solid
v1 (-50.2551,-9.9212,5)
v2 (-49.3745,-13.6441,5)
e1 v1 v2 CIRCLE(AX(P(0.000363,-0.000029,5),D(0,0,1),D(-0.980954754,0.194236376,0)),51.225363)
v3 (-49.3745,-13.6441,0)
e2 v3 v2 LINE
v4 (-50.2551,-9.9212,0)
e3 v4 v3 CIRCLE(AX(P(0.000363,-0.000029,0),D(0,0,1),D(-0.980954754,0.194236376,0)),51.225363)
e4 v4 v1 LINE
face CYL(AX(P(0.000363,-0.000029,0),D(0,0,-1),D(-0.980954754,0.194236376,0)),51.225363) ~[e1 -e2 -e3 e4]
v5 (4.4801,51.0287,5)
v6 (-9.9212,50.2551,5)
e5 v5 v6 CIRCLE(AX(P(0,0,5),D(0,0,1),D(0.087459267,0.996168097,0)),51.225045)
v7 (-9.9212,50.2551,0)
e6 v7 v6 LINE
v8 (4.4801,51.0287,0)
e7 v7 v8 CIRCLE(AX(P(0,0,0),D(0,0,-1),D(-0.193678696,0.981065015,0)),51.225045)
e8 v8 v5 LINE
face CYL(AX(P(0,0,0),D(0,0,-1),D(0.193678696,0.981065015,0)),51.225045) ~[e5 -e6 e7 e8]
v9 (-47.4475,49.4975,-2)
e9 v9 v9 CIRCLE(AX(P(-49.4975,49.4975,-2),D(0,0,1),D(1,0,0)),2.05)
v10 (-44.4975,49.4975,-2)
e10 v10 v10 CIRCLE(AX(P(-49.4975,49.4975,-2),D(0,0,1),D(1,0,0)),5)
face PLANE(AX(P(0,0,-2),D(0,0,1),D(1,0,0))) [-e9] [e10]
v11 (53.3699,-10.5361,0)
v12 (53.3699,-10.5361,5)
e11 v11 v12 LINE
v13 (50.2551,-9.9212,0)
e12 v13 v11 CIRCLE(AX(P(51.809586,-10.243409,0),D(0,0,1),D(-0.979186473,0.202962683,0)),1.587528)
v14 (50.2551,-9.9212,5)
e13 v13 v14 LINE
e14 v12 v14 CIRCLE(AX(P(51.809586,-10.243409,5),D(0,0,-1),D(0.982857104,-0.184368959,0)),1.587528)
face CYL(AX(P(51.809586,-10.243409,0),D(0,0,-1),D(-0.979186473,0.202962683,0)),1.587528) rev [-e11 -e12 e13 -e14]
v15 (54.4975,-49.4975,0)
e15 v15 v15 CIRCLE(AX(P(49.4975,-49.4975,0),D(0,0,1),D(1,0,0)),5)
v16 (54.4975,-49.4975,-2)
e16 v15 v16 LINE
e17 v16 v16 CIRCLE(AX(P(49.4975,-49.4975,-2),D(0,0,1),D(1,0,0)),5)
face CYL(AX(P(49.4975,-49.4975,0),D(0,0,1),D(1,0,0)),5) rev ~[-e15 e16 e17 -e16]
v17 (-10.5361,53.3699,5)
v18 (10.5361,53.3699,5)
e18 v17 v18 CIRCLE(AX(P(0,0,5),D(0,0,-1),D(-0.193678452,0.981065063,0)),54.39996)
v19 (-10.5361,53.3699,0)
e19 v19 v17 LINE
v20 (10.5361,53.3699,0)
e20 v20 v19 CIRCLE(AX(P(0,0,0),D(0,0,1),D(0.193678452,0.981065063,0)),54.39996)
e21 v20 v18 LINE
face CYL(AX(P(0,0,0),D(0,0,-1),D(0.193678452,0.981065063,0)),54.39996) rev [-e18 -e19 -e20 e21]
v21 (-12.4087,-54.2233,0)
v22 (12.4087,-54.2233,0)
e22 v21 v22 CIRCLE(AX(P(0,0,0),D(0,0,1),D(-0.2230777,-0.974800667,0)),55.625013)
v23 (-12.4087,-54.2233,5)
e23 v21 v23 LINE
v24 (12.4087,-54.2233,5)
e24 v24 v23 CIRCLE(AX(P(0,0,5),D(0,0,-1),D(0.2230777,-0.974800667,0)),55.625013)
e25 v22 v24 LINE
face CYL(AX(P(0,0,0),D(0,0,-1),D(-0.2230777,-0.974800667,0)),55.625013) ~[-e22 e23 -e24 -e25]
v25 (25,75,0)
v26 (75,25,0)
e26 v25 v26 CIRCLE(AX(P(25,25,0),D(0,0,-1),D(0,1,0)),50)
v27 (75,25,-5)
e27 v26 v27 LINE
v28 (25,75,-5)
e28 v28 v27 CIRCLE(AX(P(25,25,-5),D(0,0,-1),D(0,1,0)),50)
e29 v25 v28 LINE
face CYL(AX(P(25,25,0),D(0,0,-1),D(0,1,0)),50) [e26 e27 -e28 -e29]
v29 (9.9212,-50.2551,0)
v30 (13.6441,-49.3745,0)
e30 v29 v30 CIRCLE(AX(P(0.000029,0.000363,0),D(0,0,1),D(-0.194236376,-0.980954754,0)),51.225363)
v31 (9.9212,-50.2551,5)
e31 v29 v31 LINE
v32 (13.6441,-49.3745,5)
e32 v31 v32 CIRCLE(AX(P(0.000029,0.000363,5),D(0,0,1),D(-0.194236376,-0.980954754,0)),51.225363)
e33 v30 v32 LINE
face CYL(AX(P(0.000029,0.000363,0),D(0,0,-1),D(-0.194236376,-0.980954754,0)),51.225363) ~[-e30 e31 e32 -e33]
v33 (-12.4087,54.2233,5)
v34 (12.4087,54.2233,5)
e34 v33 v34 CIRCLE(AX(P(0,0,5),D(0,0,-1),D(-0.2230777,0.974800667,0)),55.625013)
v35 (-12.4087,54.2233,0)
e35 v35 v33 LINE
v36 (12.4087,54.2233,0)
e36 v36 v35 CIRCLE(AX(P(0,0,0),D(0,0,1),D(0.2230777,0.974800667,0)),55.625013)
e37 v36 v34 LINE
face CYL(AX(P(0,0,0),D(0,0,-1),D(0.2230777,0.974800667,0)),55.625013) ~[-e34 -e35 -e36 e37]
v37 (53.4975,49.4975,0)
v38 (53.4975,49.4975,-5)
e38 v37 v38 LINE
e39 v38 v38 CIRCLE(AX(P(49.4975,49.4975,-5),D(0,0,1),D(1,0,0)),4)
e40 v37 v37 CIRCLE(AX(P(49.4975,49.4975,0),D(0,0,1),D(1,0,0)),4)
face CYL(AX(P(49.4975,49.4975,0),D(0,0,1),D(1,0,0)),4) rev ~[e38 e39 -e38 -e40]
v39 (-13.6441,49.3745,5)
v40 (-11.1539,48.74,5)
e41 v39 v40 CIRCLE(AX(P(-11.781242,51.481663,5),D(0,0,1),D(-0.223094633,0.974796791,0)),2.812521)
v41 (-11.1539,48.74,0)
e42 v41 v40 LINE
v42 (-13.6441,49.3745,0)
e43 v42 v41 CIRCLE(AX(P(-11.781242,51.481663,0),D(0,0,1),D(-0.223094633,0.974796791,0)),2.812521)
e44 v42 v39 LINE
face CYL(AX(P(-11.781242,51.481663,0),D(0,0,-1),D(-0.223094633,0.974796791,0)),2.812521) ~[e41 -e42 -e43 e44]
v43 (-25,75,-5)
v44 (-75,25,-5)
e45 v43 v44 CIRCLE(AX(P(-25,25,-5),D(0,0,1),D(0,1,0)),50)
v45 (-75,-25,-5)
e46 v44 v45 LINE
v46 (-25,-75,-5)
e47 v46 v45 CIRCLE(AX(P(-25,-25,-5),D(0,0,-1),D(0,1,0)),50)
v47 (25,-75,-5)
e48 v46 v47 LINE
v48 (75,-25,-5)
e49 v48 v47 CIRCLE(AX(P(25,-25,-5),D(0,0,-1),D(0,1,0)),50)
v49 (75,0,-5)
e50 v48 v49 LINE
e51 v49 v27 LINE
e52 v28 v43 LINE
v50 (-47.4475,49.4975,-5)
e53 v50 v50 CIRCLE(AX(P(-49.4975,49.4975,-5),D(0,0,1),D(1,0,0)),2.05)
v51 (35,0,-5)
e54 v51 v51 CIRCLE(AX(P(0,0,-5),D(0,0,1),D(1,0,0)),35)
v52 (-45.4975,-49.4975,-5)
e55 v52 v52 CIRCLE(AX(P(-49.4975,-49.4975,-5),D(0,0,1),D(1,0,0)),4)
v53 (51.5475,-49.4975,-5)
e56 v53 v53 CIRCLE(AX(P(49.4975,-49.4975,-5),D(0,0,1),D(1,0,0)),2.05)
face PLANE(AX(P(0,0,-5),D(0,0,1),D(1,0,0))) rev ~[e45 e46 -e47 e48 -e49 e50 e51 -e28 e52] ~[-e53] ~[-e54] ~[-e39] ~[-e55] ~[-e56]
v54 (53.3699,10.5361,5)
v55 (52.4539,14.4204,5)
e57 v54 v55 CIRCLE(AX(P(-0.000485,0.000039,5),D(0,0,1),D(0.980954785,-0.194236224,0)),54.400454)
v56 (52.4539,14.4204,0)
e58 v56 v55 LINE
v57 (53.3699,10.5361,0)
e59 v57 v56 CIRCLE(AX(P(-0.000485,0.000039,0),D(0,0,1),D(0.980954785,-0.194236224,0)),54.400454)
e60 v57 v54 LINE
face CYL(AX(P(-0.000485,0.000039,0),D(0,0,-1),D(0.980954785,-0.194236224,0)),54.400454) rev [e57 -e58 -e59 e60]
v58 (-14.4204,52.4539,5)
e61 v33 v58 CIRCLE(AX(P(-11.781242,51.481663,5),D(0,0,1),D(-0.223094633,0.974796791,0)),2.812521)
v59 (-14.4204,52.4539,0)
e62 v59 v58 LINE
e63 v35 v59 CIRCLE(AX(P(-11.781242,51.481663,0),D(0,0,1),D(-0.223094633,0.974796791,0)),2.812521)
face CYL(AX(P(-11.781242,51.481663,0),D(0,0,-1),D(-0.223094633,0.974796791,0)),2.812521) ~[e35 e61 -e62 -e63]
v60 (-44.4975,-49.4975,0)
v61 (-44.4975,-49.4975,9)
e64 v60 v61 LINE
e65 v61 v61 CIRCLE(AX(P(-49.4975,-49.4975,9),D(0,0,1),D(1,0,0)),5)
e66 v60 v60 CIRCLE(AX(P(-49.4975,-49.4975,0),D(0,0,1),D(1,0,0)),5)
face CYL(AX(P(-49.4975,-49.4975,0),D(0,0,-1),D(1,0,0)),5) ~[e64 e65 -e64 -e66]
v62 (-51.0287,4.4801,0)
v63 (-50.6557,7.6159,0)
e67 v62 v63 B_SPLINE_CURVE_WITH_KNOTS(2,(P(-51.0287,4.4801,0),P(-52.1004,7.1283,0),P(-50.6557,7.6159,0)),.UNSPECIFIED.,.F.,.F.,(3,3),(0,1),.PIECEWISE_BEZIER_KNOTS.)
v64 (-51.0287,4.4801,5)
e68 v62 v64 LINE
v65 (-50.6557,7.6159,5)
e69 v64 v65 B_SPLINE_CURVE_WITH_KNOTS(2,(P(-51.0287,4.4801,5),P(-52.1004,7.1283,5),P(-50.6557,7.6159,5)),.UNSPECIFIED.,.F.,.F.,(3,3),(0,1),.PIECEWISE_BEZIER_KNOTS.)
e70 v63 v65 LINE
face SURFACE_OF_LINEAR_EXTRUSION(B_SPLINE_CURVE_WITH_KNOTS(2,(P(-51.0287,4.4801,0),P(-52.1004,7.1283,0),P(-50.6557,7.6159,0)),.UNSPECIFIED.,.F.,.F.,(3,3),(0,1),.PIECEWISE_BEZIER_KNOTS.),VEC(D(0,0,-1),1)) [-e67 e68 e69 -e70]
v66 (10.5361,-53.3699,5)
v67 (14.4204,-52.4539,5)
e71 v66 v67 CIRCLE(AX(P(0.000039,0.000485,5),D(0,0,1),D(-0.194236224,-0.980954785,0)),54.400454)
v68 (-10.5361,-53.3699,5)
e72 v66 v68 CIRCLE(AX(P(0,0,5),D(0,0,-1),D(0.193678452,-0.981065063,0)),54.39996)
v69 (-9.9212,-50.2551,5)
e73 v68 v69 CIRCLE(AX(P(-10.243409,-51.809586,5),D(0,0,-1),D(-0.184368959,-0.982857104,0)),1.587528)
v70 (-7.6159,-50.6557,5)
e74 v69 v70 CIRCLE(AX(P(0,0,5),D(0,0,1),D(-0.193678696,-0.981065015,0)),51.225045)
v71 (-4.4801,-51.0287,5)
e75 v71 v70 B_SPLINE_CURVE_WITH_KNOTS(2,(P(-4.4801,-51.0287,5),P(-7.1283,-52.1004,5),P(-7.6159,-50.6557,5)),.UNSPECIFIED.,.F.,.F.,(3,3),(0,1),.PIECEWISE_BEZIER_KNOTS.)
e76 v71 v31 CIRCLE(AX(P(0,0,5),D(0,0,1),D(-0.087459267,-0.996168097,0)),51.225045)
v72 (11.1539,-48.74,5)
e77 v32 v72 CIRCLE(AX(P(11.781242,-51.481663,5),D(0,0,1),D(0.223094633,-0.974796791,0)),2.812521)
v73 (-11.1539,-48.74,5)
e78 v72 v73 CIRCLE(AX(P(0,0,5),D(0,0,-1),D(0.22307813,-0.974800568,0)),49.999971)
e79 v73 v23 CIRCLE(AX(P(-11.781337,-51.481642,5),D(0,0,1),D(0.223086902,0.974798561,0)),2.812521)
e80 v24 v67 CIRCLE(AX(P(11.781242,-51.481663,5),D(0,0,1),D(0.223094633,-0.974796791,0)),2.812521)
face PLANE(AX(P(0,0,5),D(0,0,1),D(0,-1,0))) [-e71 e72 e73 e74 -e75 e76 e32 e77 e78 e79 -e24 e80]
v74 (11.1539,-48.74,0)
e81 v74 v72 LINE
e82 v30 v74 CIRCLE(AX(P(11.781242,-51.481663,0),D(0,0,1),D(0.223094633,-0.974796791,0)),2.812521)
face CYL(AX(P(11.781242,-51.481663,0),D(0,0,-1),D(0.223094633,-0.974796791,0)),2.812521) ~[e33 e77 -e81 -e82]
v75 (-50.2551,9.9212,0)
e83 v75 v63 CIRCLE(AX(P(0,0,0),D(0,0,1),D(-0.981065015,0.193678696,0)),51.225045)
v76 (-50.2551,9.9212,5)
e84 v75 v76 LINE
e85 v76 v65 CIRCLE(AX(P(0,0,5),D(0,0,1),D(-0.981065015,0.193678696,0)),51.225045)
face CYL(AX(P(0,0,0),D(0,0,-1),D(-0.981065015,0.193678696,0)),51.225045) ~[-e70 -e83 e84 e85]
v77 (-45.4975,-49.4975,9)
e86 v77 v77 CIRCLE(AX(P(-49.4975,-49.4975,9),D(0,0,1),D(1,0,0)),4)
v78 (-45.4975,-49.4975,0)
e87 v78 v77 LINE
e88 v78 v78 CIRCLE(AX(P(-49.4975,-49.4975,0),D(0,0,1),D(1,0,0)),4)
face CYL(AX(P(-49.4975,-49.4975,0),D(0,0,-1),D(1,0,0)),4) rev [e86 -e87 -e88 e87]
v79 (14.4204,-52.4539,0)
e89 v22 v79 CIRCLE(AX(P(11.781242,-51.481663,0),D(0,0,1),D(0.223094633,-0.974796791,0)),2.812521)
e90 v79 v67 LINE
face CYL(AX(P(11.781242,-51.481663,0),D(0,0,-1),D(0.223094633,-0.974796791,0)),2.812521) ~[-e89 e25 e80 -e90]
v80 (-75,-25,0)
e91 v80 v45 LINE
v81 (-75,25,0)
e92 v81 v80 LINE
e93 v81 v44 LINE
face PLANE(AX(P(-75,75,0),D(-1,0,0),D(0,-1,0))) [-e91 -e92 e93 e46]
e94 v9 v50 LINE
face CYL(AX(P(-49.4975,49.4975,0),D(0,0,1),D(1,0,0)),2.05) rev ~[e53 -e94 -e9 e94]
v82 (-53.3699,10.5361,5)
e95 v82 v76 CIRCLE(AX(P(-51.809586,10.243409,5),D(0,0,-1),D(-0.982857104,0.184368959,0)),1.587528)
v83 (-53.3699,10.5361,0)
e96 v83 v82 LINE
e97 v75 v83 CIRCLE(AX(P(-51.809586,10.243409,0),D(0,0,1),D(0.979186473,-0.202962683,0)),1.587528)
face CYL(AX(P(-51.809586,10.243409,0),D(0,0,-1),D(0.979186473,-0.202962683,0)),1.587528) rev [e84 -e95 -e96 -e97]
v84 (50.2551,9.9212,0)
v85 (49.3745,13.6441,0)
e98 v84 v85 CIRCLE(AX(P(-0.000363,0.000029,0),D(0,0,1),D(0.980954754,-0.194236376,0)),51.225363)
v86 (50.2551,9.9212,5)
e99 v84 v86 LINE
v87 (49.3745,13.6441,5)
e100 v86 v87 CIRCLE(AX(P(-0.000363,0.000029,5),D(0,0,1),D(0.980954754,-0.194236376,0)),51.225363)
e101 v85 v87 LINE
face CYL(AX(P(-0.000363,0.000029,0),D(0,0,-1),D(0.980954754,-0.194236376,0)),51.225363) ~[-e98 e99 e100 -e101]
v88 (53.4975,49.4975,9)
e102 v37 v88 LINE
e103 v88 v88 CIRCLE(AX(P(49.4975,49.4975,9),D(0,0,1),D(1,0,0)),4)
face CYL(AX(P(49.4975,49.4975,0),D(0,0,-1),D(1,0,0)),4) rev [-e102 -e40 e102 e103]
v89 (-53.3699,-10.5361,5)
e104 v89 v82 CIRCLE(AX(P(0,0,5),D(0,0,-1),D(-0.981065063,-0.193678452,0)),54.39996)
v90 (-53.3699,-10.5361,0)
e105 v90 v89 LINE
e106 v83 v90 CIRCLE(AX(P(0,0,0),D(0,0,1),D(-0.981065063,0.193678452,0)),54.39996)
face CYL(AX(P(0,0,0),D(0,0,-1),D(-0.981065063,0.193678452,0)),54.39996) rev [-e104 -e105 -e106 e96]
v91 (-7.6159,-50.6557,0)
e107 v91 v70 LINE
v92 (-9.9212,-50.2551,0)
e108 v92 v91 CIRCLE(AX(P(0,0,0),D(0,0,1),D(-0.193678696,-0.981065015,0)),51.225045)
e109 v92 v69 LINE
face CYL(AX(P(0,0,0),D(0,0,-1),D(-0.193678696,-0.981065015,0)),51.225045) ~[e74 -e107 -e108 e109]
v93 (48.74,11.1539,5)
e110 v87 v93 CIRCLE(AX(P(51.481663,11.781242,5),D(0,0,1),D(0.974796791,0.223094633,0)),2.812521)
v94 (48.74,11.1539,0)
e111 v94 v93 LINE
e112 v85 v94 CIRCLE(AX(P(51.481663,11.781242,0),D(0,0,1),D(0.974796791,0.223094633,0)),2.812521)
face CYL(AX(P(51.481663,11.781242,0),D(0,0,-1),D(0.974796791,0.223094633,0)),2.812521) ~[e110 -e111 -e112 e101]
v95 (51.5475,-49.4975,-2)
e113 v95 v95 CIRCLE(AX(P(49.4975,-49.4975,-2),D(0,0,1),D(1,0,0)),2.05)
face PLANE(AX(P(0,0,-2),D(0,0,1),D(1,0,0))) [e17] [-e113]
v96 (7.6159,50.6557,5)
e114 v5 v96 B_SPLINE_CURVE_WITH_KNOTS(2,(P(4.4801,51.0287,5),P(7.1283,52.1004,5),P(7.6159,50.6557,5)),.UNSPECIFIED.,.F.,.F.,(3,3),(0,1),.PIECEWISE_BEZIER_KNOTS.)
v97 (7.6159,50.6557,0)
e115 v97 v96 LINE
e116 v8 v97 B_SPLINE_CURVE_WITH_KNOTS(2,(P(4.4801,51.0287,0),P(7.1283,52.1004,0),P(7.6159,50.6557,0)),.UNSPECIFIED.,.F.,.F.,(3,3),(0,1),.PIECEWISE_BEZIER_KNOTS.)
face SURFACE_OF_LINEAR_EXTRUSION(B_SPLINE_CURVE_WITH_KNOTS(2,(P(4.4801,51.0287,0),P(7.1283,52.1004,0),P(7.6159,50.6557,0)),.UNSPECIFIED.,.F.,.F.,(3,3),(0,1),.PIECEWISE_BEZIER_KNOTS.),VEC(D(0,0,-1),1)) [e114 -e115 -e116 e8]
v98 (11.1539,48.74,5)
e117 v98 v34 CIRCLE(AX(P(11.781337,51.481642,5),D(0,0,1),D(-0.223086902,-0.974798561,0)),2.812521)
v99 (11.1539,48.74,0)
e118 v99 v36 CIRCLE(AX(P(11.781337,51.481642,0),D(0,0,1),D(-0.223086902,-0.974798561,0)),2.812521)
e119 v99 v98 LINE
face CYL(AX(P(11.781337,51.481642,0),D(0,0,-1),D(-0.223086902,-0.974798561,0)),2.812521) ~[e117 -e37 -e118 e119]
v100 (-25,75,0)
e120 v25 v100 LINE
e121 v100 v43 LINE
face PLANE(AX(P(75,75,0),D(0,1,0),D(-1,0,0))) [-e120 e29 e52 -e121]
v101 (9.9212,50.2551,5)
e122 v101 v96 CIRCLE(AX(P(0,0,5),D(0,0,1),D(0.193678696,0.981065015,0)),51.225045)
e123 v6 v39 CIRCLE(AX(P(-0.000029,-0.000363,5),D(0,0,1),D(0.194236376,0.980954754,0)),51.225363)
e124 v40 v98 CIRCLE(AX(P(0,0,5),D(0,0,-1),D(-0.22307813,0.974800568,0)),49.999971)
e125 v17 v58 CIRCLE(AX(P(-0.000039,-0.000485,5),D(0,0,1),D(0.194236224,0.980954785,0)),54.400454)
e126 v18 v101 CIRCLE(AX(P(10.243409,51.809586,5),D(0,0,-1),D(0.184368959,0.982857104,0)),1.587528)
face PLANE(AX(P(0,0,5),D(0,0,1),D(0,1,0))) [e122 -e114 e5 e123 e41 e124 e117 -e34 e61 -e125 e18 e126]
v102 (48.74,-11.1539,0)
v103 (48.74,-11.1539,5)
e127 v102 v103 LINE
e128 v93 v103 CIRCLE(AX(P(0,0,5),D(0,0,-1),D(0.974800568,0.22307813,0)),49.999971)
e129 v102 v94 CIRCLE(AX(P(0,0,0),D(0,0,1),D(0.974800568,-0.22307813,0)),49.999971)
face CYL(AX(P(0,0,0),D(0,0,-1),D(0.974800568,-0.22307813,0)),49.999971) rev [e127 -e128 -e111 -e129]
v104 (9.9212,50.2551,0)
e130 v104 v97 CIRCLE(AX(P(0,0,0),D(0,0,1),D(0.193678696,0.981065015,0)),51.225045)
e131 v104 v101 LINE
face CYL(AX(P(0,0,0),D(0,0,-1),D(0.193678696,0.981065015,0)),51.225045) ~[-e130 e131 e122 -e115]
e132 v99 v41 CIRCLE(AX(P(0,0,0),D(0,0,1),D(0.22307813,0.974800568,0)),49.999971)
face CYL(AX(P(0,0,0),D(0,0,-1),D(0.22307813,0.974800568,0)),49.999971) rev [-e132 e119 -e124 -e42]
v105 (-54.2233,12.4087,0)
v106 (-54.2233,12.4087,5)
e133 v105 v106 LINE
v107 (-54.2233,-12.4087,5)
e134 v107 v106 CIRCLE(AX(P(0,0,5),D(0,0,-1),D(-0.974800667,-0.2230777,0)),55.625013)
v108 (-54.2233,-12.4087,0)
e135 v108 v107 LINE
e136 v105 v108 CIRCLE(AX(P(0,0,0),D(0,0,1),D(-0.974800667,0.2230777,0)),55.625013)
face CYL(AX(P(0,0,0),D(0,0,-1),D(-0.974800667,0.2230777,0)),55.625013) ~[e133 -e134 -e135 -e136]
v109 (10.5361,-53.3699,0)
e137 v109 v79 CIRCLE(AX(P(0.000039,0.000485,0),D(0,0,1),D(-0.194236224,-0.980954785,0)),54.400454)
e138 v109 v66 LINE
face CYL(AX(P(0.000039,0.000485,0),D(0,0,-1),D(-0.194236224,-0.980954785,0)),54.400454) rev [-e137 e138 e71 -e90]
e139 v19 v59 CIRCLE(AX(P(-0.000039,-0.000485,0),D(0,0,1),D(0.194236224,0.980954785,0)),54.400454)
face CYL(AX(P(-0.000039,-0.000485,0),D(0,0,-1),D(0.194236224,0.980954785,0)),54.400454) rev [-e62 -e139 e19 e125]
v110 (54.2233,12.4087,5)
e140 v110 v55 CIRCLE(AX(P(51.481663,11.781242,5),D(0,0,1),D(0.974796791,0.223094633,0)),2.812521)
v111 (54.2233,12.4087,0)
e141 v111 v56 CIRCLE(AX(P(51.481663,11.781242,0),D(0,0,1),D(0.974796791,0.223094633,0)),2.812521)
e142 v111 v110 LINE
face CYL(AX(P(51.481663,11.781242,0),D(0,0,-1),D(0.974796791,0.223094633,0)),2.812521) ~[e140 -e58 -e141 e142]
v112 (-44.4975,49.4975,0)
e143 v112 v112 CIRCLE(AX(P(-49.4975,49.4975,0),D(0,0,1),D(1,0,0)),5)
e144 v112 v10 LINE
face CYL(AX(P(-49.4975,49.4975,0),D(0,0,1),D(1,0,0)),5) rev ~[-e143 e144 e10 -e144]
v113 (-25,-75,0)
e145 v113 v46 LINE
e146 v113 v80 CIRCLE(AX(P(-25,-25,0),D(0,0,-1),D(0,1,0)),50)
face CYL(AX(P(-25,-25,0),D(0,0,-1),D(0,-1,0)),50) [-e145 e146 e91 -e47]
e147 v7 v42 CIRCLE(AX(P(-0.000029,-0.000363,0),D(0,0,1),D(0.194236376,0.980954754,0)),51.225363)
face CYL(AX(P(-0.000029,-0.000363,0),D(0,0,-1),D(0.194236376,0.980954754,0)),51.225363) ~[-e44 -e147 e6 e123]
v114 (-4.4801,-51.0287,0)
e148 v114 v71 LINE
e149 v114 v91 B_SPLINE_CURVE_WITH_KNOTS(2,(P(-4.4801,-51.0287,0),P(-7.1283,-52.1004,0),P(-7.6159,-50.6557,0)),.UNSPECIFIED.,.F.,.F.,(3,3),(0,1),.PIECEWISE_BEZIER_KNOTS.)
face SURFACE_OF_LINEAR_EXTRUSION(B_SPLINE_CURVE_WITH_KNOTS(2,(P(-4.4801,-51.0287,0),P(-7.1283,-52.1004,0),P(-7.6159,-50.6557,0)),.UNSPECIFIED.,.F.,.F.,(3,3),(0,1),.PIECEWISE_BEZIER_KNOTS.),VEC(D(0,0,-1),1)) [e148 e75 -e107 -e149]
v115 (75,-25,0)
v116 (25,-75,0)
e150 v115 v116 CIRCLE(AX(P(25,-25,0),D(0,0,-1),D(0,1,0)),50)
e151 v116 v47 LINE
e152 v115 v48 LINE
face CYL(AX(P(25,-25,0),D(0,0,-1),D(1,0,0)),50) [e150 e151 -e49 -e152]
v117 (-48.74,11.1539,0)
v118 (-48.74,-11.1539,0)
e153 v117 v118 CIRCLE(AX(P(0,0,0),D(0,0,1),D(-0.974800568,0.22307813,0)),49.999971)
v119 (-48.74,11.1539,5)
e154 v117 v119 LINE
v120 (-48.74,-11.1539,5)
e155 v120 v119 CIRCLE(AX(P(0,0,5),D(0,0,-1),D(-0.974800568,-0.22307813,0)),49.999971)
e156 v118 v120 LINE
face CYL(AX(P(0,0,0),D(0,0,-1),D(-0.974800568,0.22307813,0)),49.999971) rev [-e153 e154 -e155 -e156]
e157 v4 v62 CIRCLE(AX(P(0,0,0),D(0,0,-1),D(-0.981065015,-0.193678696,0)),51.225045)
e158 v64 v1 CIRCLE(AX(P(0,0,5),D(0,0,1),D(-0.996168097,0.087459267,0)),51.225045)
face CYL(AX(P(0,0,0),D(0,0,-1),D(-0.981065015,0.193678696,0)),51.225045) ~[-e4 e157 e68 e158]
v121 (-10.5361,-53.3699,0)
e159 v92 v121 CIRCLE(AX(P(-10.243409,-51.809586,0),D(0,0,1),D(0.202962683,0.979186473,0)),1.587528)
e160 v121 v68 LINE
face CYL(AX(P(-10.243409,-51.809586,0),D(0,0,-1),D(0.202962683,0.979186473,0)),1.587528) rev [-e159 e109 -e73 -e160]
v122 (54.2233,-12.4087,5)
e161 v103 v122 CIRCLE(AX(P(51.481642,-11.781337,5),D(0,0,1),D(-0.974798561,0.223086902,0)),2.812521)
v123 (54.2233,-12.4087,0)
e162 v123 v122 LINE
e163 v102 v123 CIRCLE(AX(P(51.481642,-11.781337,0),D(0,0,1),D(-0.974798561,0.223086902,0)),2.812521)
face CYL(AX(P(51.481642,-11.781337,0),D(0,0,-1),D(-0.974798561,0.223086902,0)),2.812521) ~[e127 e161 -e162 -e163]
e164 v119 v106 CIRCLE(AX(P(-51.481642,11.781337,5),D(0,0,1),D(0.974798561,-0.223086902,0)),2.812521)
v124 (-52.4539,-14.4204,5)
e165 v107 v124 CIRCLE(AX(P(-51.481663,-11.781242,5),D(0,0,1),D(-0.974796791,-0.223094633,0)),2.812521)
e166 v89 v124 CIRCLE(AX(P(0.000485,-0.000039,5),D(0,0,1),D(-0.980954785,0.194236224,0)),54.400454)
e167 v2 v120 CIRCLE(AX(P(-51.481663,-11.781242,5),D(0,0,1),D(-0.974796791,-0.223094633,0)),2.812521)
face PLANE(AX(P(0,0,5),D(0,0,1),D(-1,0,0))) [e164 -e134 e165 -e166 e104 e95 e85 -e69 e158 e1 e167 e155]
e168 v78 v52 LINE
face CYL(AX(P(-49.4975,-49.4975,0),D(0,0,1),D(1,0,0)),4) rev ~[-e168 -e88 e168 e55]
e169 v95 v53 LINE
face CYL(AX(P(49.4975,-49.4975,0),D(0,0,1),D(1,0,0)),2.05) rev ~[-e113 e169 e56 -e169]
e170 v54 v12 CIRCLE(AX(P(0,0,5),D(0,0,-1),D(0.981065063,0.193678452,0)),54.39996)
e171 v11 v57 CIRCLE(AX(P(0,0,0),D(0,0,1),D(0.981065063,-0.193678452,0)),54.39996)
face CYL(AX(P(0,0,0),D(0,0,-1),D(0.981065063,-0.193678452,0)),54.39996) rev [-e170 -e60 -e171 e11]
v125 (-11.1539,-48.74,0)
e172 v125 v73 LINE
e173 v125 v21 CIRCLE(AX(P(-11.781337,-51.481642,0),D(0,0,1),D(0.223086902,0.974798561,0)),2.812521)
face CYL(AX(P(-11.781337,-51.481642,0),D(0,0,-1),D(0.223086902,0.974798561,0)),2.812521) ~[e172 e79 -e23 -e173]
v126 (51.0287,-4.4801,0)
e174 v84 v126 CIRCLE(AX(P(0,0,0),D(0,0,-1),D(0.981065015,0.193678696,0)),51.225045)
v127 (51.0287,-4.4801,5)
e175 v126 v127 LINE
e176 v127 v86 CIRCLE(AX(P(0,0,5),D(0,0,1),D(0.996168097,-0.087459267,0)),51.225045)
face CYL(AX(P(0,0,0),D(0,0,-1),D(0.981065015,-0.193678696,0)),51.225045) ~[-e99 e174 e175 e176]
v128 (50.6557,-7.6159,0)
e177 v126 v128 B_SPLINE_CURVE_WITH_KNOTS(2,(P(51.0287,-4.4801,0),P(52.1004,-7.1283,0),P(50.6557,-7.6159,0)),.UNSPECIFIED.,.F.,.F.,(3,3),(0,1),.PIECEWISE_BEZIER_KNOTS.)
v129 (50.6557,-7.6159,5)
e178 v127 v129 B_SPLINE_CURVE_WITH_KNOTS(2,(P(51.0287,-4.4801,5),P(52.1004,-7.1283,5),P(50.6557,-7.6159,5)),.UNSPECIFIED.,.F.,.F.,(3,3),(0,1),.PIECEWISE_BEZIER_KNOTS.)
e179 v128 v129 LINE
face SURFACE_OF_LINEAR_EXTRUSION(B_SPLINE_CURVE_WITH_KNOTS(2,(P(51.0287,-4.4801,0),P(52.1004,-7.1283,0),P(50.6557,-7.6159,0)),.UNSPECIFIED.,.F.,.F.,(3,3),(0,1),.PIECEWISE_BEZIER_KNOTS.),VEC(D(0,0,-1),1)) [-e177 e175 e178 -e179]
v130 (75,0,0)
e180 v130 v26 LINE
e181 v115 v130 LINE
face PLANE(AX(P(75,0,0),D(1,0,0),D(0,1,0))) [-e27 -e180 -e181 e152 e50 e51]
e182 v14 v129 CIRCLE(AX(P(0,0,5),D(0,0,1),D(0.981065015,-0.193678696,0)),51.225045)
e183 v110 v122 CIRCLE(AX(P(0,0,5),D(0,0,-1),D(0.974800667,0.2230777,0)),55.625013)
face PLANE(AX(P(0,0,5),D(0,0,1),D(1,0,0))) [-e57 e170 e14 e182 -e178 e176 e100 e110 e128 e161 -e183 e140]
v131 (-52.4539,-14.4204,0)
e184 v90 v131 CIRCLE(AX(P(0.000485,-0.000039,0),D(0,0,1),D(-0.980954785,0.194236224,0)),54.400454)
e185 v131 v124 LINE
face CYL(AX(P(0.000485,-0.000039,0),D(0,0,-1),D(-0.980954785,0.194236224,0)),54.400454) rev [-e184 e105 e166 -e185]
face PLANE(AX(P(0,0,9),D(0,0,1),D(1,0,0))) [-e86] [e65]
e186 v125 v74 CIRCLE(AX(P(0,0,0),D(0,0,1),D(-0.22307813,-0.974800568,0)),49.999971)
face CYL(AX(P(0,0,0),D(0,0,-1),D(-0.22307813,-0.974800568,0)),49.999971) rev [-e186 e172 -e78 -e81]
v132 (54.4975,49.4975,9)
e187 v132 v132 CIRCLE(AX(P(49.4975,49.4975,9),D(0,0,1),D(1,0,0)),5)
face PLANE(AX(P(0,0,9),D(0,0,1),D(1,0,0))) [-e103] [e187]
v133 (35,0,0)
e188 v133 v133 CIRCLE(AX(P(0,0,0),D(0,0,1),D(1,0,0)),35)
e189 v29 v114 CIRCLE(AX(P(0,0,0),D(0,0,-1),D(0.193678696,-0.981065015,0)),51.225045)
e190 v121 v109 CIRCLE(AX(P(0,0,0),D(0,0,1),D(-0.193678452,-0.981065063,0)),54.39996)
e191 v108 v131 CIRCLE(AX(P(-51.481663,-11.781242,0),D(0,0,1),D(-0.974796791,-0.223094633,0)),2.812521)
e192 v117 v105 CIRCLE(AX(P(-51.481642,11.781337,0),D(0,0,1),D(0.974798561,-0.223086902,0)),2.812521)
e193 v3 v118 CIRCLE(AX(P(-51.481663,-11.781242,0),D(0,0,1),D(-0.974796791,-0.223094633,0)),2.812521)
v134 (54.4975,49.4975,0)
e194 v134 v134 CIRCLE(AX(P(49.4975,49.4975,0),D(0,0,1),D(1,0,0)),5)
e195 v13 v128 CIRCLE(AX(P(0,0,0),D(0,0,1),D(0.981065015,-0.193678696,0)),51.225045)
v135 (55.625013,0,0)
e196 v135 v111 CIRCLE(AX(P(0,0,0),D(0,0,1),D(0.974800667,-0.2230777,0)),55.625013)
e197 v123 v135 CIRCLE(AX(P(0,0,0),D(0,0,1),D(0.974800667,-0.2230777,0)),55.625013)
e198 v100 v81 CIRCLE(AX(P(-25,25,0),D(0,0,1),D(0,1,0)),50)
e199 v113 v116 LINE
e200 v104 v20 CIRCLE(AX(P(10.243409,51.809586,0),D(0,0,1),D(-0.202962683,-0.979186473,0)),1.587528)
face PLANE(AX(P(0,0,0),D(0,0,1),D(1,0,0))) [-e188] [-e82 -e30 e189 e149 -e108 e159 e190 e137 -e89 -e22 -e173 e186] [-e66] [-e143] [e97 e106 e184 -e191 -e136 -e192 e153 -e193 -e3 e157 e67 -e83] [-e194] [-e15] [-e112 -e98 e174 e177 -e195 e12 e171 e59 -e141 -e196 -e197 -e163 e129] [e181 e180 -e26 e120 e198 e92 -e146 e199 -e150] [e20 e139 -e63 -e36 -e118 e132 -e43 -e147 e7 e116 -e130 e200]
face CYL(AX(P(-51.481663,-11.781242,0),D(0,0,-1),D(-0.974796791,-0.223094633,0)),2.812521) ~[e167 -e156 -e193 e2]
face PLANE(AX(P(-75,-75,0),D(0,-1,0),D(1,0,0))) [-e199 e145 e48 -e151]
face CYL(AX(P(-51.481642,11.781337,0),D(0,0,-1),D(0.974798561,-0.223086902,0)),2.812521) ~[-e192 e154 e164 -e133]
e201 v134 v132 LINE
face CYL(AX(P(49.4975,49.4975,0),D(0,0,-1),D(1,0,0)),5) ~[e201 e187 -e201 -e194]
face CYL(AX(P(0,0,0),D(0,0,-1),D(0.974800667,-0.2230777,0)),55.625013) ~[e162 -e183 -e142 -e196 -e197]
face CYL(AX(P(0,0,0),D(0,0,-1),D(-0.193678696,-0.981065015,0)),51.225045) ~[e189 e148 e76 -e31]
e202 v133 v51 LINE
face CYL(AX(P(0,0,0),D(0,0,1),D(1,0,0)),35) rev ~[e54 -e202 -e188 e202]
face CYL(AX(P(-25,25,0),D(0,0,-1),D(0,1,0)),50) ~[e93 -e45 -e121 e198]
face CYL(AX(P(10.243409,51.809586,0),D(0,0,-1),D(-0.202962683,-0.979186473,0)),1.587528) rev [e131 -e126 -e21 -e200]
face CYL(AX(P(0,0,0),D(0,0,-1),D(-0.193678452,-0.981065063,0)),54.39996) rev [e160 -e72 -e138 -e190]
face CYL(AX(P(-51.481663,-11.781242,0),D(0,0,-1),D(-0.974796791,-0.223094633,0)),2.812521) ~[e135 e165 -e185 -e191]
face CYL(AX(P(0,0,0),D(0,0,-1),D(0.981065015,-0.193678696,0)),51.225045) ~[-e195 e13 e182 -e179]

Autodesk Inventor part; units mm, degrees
ref_plane "YZ Plane" through (0, 0, 0) normal (1, 0, 0) x (0, 1, 0)
ref_plane "XZ Plane" through (0, 0, 0) normal (0, 1, 0) x (-1, 0, 0)
ref_plane "XY Plane" through (0, 0, 0) normal (0, 0, 1) x (1, 0, 0)
sketch "Sketch1" plane through (0, 0, 0) normal (0, 0, 1) x (1, 0, 0)
  line L0 (-75, -75) -> (75, -75)
  line L1 (75, -75) -> (75, 75)
  line L2 (75, 75) -> (-75, 75)
  line L3 (-75, 75) -> (-75, -75)
  line L4 (-75, -75) -> (75, 75) construction
  line L5 (75, -75) -> (-75, 75) construction
  arc A0 (51.4783, -11.796) -> (51.4817, 11.7813) centre (0, 0) ccw
  arc A1 (53.3699, -10.5361) -> (53.3699, 10.5361) centre (0, 0) ccw
  arc A2 (50.2551, -9.9212) -> (50.2551, 9.9212) centre (0, 0) ccw
  arc A3 (53.3699, 10.5361) -> (50.2551, 9.9212) centre (51.8125, 10.2286) ccw
  arc A4 (50.2551, -9.9212) -> (53.3699, -10.5361) centre (51.8096, -10.2434) ccw
  line L6 (0, 0) -> (120.3079, 0)
  spline S0 degree 2 poles (51.0287, -4.4801) (52.1004, -7.1283) (50.6557, -7.6159) knots 0 0 0 1 1 1
  arc A5 (54.2233, -12.4087) -> (54.2233, 12.4087) centre (0, 0) ccw
  arc A6 (48.74, -11.1539) -> (48.74, 11.1539) centre (0, 0) ccw
  arc A7 (54.2233, 12.4087) -> (48.74, 11.1539) centre (51.4817, 11.7813) ccw
  arc A8 (48.74, -11.1539) -> (54.2233, -12.4087) centre (51.4817, -11.7813) ccw
  arc A9 (53.3639, -10.5665) -> (52.4539, 14.4204) centre (0, 0) ccw
  arc A10 (50.2494, -9.9498) -> (49.3745, 13.6441) centre (0, 0) ccw
  circle A11 centre (49.4975, 49.4975) radius 5
  circle A12 centre (-49.4975, -49.4975) radius 5
  circle A13 centre (49.4975, 49.4975) radius 4
  circle A14 centre (-49.4975, -49.4975) radius 4
  point P0 (52.8125, 0)
  point P1 (28.5375, -29.3076)
  point P2 (51.5021, -11.8009)
  point P3 (51.4042, -6.894)
  point P4 (53.3699, 10.5361)
  point P5 (50.2551, 9.9212)
  dimension "d0" = 150
  dimension "d1" = 150
  dimension "d2" = 52.8125
  dimension "d6" = 102.45
  dimension "d7" = 108.8
  dimension "d8" = 4.185
  dimension "d12" = 111.25
  dimension "d13" = 100
  dimension "d21" = 10
  dimension "d22" = 10
  dimension "d23" = 8
  dimension "d24" = 8
  dimension "d39" = 70
  dimension "d40" = 70
extrude "Extrusion1" add sketch "Sketch1" against normal blind 5 contours A5 A8 A6 L6 A2 A4 A1 | L6 A1 A9 A7 A5 | L3 L2 L1 L0 | L6 A0 A3 A1 | A1 A4 A0 L6 | A3 A10 A7 A9 | L6 A2 A3 A0 | A0 A4 A2 S0 L6 | L6 A6 A7 A10 A2 | S0 A2 | A11 | A12 | A13 | A14
extrude "Extrusion2" add sketch "Sketch1" along normal blind 5 contours A5 A8 A6 L6 A2 A4 A1 | L6 A1 A9 A7 A5 | L6 A6 A7 A10 A2 | S0 A2
pattern_circular "Circular Pattern1" count 4 over 360 about axis through (0, 0, -10) along (0, 0, 1) of "Extrusion2"
extrude "Extrusion4" add sketch "Sketch1" along normal blind 9 contours A11 | A12
extrude "Extrusion5" cut sketch "Sketch1" against normal through all contours A13 | A14
fillet "Fillet1" radius 50 4 edges at (-75, 75, -2.5) (75, 75, -2.5) (75, -75, -2.5) (-75, -75, -2.5)
sketch "Sketch3" plane through (0, 0, 0) normal (0, 0, 1) x (1, 0, 0)
  circle A0 centre (0, 0) radius 35
  circle A1 centre (49.4975, 49.4975) radius 5 projected
  line L0 (-49.4975, -49.4975) -> (49.4975, 49.4975) construction
  line L1 (49.4975, -49.4975) -> (-49.4975, 49.4975) construction
  circle A2 centre (-49.4975, 49.4975) radius 2.05
  circle A3 centre (49.4975, -49.4975) radius 2.05
  circle A4 centre (-49.4975, 49.4975) radius 5
  circle A5 centre (49.4975, -49.4975) radius 5
  dimension "d30" = 70
  dimension "d31" = 4.1
  dimension "d32" = 4.1
  dimension "d33" = 10
  dimension "d34" = 10
  dimension "d41" = 70
extrude "Extrusion6" cut sketch "Sketch3" against normal through all contours A0 | A2 | A3
extrude "Extrusion7" cut sketch "Sketch3" against normal blind 2 contours A3 | A4 | A5
equation "\"d22\" = d21"
equation "\"d24\" = d23"
equation "\"d40\" = d39"
properties part number "Female plug&play"
